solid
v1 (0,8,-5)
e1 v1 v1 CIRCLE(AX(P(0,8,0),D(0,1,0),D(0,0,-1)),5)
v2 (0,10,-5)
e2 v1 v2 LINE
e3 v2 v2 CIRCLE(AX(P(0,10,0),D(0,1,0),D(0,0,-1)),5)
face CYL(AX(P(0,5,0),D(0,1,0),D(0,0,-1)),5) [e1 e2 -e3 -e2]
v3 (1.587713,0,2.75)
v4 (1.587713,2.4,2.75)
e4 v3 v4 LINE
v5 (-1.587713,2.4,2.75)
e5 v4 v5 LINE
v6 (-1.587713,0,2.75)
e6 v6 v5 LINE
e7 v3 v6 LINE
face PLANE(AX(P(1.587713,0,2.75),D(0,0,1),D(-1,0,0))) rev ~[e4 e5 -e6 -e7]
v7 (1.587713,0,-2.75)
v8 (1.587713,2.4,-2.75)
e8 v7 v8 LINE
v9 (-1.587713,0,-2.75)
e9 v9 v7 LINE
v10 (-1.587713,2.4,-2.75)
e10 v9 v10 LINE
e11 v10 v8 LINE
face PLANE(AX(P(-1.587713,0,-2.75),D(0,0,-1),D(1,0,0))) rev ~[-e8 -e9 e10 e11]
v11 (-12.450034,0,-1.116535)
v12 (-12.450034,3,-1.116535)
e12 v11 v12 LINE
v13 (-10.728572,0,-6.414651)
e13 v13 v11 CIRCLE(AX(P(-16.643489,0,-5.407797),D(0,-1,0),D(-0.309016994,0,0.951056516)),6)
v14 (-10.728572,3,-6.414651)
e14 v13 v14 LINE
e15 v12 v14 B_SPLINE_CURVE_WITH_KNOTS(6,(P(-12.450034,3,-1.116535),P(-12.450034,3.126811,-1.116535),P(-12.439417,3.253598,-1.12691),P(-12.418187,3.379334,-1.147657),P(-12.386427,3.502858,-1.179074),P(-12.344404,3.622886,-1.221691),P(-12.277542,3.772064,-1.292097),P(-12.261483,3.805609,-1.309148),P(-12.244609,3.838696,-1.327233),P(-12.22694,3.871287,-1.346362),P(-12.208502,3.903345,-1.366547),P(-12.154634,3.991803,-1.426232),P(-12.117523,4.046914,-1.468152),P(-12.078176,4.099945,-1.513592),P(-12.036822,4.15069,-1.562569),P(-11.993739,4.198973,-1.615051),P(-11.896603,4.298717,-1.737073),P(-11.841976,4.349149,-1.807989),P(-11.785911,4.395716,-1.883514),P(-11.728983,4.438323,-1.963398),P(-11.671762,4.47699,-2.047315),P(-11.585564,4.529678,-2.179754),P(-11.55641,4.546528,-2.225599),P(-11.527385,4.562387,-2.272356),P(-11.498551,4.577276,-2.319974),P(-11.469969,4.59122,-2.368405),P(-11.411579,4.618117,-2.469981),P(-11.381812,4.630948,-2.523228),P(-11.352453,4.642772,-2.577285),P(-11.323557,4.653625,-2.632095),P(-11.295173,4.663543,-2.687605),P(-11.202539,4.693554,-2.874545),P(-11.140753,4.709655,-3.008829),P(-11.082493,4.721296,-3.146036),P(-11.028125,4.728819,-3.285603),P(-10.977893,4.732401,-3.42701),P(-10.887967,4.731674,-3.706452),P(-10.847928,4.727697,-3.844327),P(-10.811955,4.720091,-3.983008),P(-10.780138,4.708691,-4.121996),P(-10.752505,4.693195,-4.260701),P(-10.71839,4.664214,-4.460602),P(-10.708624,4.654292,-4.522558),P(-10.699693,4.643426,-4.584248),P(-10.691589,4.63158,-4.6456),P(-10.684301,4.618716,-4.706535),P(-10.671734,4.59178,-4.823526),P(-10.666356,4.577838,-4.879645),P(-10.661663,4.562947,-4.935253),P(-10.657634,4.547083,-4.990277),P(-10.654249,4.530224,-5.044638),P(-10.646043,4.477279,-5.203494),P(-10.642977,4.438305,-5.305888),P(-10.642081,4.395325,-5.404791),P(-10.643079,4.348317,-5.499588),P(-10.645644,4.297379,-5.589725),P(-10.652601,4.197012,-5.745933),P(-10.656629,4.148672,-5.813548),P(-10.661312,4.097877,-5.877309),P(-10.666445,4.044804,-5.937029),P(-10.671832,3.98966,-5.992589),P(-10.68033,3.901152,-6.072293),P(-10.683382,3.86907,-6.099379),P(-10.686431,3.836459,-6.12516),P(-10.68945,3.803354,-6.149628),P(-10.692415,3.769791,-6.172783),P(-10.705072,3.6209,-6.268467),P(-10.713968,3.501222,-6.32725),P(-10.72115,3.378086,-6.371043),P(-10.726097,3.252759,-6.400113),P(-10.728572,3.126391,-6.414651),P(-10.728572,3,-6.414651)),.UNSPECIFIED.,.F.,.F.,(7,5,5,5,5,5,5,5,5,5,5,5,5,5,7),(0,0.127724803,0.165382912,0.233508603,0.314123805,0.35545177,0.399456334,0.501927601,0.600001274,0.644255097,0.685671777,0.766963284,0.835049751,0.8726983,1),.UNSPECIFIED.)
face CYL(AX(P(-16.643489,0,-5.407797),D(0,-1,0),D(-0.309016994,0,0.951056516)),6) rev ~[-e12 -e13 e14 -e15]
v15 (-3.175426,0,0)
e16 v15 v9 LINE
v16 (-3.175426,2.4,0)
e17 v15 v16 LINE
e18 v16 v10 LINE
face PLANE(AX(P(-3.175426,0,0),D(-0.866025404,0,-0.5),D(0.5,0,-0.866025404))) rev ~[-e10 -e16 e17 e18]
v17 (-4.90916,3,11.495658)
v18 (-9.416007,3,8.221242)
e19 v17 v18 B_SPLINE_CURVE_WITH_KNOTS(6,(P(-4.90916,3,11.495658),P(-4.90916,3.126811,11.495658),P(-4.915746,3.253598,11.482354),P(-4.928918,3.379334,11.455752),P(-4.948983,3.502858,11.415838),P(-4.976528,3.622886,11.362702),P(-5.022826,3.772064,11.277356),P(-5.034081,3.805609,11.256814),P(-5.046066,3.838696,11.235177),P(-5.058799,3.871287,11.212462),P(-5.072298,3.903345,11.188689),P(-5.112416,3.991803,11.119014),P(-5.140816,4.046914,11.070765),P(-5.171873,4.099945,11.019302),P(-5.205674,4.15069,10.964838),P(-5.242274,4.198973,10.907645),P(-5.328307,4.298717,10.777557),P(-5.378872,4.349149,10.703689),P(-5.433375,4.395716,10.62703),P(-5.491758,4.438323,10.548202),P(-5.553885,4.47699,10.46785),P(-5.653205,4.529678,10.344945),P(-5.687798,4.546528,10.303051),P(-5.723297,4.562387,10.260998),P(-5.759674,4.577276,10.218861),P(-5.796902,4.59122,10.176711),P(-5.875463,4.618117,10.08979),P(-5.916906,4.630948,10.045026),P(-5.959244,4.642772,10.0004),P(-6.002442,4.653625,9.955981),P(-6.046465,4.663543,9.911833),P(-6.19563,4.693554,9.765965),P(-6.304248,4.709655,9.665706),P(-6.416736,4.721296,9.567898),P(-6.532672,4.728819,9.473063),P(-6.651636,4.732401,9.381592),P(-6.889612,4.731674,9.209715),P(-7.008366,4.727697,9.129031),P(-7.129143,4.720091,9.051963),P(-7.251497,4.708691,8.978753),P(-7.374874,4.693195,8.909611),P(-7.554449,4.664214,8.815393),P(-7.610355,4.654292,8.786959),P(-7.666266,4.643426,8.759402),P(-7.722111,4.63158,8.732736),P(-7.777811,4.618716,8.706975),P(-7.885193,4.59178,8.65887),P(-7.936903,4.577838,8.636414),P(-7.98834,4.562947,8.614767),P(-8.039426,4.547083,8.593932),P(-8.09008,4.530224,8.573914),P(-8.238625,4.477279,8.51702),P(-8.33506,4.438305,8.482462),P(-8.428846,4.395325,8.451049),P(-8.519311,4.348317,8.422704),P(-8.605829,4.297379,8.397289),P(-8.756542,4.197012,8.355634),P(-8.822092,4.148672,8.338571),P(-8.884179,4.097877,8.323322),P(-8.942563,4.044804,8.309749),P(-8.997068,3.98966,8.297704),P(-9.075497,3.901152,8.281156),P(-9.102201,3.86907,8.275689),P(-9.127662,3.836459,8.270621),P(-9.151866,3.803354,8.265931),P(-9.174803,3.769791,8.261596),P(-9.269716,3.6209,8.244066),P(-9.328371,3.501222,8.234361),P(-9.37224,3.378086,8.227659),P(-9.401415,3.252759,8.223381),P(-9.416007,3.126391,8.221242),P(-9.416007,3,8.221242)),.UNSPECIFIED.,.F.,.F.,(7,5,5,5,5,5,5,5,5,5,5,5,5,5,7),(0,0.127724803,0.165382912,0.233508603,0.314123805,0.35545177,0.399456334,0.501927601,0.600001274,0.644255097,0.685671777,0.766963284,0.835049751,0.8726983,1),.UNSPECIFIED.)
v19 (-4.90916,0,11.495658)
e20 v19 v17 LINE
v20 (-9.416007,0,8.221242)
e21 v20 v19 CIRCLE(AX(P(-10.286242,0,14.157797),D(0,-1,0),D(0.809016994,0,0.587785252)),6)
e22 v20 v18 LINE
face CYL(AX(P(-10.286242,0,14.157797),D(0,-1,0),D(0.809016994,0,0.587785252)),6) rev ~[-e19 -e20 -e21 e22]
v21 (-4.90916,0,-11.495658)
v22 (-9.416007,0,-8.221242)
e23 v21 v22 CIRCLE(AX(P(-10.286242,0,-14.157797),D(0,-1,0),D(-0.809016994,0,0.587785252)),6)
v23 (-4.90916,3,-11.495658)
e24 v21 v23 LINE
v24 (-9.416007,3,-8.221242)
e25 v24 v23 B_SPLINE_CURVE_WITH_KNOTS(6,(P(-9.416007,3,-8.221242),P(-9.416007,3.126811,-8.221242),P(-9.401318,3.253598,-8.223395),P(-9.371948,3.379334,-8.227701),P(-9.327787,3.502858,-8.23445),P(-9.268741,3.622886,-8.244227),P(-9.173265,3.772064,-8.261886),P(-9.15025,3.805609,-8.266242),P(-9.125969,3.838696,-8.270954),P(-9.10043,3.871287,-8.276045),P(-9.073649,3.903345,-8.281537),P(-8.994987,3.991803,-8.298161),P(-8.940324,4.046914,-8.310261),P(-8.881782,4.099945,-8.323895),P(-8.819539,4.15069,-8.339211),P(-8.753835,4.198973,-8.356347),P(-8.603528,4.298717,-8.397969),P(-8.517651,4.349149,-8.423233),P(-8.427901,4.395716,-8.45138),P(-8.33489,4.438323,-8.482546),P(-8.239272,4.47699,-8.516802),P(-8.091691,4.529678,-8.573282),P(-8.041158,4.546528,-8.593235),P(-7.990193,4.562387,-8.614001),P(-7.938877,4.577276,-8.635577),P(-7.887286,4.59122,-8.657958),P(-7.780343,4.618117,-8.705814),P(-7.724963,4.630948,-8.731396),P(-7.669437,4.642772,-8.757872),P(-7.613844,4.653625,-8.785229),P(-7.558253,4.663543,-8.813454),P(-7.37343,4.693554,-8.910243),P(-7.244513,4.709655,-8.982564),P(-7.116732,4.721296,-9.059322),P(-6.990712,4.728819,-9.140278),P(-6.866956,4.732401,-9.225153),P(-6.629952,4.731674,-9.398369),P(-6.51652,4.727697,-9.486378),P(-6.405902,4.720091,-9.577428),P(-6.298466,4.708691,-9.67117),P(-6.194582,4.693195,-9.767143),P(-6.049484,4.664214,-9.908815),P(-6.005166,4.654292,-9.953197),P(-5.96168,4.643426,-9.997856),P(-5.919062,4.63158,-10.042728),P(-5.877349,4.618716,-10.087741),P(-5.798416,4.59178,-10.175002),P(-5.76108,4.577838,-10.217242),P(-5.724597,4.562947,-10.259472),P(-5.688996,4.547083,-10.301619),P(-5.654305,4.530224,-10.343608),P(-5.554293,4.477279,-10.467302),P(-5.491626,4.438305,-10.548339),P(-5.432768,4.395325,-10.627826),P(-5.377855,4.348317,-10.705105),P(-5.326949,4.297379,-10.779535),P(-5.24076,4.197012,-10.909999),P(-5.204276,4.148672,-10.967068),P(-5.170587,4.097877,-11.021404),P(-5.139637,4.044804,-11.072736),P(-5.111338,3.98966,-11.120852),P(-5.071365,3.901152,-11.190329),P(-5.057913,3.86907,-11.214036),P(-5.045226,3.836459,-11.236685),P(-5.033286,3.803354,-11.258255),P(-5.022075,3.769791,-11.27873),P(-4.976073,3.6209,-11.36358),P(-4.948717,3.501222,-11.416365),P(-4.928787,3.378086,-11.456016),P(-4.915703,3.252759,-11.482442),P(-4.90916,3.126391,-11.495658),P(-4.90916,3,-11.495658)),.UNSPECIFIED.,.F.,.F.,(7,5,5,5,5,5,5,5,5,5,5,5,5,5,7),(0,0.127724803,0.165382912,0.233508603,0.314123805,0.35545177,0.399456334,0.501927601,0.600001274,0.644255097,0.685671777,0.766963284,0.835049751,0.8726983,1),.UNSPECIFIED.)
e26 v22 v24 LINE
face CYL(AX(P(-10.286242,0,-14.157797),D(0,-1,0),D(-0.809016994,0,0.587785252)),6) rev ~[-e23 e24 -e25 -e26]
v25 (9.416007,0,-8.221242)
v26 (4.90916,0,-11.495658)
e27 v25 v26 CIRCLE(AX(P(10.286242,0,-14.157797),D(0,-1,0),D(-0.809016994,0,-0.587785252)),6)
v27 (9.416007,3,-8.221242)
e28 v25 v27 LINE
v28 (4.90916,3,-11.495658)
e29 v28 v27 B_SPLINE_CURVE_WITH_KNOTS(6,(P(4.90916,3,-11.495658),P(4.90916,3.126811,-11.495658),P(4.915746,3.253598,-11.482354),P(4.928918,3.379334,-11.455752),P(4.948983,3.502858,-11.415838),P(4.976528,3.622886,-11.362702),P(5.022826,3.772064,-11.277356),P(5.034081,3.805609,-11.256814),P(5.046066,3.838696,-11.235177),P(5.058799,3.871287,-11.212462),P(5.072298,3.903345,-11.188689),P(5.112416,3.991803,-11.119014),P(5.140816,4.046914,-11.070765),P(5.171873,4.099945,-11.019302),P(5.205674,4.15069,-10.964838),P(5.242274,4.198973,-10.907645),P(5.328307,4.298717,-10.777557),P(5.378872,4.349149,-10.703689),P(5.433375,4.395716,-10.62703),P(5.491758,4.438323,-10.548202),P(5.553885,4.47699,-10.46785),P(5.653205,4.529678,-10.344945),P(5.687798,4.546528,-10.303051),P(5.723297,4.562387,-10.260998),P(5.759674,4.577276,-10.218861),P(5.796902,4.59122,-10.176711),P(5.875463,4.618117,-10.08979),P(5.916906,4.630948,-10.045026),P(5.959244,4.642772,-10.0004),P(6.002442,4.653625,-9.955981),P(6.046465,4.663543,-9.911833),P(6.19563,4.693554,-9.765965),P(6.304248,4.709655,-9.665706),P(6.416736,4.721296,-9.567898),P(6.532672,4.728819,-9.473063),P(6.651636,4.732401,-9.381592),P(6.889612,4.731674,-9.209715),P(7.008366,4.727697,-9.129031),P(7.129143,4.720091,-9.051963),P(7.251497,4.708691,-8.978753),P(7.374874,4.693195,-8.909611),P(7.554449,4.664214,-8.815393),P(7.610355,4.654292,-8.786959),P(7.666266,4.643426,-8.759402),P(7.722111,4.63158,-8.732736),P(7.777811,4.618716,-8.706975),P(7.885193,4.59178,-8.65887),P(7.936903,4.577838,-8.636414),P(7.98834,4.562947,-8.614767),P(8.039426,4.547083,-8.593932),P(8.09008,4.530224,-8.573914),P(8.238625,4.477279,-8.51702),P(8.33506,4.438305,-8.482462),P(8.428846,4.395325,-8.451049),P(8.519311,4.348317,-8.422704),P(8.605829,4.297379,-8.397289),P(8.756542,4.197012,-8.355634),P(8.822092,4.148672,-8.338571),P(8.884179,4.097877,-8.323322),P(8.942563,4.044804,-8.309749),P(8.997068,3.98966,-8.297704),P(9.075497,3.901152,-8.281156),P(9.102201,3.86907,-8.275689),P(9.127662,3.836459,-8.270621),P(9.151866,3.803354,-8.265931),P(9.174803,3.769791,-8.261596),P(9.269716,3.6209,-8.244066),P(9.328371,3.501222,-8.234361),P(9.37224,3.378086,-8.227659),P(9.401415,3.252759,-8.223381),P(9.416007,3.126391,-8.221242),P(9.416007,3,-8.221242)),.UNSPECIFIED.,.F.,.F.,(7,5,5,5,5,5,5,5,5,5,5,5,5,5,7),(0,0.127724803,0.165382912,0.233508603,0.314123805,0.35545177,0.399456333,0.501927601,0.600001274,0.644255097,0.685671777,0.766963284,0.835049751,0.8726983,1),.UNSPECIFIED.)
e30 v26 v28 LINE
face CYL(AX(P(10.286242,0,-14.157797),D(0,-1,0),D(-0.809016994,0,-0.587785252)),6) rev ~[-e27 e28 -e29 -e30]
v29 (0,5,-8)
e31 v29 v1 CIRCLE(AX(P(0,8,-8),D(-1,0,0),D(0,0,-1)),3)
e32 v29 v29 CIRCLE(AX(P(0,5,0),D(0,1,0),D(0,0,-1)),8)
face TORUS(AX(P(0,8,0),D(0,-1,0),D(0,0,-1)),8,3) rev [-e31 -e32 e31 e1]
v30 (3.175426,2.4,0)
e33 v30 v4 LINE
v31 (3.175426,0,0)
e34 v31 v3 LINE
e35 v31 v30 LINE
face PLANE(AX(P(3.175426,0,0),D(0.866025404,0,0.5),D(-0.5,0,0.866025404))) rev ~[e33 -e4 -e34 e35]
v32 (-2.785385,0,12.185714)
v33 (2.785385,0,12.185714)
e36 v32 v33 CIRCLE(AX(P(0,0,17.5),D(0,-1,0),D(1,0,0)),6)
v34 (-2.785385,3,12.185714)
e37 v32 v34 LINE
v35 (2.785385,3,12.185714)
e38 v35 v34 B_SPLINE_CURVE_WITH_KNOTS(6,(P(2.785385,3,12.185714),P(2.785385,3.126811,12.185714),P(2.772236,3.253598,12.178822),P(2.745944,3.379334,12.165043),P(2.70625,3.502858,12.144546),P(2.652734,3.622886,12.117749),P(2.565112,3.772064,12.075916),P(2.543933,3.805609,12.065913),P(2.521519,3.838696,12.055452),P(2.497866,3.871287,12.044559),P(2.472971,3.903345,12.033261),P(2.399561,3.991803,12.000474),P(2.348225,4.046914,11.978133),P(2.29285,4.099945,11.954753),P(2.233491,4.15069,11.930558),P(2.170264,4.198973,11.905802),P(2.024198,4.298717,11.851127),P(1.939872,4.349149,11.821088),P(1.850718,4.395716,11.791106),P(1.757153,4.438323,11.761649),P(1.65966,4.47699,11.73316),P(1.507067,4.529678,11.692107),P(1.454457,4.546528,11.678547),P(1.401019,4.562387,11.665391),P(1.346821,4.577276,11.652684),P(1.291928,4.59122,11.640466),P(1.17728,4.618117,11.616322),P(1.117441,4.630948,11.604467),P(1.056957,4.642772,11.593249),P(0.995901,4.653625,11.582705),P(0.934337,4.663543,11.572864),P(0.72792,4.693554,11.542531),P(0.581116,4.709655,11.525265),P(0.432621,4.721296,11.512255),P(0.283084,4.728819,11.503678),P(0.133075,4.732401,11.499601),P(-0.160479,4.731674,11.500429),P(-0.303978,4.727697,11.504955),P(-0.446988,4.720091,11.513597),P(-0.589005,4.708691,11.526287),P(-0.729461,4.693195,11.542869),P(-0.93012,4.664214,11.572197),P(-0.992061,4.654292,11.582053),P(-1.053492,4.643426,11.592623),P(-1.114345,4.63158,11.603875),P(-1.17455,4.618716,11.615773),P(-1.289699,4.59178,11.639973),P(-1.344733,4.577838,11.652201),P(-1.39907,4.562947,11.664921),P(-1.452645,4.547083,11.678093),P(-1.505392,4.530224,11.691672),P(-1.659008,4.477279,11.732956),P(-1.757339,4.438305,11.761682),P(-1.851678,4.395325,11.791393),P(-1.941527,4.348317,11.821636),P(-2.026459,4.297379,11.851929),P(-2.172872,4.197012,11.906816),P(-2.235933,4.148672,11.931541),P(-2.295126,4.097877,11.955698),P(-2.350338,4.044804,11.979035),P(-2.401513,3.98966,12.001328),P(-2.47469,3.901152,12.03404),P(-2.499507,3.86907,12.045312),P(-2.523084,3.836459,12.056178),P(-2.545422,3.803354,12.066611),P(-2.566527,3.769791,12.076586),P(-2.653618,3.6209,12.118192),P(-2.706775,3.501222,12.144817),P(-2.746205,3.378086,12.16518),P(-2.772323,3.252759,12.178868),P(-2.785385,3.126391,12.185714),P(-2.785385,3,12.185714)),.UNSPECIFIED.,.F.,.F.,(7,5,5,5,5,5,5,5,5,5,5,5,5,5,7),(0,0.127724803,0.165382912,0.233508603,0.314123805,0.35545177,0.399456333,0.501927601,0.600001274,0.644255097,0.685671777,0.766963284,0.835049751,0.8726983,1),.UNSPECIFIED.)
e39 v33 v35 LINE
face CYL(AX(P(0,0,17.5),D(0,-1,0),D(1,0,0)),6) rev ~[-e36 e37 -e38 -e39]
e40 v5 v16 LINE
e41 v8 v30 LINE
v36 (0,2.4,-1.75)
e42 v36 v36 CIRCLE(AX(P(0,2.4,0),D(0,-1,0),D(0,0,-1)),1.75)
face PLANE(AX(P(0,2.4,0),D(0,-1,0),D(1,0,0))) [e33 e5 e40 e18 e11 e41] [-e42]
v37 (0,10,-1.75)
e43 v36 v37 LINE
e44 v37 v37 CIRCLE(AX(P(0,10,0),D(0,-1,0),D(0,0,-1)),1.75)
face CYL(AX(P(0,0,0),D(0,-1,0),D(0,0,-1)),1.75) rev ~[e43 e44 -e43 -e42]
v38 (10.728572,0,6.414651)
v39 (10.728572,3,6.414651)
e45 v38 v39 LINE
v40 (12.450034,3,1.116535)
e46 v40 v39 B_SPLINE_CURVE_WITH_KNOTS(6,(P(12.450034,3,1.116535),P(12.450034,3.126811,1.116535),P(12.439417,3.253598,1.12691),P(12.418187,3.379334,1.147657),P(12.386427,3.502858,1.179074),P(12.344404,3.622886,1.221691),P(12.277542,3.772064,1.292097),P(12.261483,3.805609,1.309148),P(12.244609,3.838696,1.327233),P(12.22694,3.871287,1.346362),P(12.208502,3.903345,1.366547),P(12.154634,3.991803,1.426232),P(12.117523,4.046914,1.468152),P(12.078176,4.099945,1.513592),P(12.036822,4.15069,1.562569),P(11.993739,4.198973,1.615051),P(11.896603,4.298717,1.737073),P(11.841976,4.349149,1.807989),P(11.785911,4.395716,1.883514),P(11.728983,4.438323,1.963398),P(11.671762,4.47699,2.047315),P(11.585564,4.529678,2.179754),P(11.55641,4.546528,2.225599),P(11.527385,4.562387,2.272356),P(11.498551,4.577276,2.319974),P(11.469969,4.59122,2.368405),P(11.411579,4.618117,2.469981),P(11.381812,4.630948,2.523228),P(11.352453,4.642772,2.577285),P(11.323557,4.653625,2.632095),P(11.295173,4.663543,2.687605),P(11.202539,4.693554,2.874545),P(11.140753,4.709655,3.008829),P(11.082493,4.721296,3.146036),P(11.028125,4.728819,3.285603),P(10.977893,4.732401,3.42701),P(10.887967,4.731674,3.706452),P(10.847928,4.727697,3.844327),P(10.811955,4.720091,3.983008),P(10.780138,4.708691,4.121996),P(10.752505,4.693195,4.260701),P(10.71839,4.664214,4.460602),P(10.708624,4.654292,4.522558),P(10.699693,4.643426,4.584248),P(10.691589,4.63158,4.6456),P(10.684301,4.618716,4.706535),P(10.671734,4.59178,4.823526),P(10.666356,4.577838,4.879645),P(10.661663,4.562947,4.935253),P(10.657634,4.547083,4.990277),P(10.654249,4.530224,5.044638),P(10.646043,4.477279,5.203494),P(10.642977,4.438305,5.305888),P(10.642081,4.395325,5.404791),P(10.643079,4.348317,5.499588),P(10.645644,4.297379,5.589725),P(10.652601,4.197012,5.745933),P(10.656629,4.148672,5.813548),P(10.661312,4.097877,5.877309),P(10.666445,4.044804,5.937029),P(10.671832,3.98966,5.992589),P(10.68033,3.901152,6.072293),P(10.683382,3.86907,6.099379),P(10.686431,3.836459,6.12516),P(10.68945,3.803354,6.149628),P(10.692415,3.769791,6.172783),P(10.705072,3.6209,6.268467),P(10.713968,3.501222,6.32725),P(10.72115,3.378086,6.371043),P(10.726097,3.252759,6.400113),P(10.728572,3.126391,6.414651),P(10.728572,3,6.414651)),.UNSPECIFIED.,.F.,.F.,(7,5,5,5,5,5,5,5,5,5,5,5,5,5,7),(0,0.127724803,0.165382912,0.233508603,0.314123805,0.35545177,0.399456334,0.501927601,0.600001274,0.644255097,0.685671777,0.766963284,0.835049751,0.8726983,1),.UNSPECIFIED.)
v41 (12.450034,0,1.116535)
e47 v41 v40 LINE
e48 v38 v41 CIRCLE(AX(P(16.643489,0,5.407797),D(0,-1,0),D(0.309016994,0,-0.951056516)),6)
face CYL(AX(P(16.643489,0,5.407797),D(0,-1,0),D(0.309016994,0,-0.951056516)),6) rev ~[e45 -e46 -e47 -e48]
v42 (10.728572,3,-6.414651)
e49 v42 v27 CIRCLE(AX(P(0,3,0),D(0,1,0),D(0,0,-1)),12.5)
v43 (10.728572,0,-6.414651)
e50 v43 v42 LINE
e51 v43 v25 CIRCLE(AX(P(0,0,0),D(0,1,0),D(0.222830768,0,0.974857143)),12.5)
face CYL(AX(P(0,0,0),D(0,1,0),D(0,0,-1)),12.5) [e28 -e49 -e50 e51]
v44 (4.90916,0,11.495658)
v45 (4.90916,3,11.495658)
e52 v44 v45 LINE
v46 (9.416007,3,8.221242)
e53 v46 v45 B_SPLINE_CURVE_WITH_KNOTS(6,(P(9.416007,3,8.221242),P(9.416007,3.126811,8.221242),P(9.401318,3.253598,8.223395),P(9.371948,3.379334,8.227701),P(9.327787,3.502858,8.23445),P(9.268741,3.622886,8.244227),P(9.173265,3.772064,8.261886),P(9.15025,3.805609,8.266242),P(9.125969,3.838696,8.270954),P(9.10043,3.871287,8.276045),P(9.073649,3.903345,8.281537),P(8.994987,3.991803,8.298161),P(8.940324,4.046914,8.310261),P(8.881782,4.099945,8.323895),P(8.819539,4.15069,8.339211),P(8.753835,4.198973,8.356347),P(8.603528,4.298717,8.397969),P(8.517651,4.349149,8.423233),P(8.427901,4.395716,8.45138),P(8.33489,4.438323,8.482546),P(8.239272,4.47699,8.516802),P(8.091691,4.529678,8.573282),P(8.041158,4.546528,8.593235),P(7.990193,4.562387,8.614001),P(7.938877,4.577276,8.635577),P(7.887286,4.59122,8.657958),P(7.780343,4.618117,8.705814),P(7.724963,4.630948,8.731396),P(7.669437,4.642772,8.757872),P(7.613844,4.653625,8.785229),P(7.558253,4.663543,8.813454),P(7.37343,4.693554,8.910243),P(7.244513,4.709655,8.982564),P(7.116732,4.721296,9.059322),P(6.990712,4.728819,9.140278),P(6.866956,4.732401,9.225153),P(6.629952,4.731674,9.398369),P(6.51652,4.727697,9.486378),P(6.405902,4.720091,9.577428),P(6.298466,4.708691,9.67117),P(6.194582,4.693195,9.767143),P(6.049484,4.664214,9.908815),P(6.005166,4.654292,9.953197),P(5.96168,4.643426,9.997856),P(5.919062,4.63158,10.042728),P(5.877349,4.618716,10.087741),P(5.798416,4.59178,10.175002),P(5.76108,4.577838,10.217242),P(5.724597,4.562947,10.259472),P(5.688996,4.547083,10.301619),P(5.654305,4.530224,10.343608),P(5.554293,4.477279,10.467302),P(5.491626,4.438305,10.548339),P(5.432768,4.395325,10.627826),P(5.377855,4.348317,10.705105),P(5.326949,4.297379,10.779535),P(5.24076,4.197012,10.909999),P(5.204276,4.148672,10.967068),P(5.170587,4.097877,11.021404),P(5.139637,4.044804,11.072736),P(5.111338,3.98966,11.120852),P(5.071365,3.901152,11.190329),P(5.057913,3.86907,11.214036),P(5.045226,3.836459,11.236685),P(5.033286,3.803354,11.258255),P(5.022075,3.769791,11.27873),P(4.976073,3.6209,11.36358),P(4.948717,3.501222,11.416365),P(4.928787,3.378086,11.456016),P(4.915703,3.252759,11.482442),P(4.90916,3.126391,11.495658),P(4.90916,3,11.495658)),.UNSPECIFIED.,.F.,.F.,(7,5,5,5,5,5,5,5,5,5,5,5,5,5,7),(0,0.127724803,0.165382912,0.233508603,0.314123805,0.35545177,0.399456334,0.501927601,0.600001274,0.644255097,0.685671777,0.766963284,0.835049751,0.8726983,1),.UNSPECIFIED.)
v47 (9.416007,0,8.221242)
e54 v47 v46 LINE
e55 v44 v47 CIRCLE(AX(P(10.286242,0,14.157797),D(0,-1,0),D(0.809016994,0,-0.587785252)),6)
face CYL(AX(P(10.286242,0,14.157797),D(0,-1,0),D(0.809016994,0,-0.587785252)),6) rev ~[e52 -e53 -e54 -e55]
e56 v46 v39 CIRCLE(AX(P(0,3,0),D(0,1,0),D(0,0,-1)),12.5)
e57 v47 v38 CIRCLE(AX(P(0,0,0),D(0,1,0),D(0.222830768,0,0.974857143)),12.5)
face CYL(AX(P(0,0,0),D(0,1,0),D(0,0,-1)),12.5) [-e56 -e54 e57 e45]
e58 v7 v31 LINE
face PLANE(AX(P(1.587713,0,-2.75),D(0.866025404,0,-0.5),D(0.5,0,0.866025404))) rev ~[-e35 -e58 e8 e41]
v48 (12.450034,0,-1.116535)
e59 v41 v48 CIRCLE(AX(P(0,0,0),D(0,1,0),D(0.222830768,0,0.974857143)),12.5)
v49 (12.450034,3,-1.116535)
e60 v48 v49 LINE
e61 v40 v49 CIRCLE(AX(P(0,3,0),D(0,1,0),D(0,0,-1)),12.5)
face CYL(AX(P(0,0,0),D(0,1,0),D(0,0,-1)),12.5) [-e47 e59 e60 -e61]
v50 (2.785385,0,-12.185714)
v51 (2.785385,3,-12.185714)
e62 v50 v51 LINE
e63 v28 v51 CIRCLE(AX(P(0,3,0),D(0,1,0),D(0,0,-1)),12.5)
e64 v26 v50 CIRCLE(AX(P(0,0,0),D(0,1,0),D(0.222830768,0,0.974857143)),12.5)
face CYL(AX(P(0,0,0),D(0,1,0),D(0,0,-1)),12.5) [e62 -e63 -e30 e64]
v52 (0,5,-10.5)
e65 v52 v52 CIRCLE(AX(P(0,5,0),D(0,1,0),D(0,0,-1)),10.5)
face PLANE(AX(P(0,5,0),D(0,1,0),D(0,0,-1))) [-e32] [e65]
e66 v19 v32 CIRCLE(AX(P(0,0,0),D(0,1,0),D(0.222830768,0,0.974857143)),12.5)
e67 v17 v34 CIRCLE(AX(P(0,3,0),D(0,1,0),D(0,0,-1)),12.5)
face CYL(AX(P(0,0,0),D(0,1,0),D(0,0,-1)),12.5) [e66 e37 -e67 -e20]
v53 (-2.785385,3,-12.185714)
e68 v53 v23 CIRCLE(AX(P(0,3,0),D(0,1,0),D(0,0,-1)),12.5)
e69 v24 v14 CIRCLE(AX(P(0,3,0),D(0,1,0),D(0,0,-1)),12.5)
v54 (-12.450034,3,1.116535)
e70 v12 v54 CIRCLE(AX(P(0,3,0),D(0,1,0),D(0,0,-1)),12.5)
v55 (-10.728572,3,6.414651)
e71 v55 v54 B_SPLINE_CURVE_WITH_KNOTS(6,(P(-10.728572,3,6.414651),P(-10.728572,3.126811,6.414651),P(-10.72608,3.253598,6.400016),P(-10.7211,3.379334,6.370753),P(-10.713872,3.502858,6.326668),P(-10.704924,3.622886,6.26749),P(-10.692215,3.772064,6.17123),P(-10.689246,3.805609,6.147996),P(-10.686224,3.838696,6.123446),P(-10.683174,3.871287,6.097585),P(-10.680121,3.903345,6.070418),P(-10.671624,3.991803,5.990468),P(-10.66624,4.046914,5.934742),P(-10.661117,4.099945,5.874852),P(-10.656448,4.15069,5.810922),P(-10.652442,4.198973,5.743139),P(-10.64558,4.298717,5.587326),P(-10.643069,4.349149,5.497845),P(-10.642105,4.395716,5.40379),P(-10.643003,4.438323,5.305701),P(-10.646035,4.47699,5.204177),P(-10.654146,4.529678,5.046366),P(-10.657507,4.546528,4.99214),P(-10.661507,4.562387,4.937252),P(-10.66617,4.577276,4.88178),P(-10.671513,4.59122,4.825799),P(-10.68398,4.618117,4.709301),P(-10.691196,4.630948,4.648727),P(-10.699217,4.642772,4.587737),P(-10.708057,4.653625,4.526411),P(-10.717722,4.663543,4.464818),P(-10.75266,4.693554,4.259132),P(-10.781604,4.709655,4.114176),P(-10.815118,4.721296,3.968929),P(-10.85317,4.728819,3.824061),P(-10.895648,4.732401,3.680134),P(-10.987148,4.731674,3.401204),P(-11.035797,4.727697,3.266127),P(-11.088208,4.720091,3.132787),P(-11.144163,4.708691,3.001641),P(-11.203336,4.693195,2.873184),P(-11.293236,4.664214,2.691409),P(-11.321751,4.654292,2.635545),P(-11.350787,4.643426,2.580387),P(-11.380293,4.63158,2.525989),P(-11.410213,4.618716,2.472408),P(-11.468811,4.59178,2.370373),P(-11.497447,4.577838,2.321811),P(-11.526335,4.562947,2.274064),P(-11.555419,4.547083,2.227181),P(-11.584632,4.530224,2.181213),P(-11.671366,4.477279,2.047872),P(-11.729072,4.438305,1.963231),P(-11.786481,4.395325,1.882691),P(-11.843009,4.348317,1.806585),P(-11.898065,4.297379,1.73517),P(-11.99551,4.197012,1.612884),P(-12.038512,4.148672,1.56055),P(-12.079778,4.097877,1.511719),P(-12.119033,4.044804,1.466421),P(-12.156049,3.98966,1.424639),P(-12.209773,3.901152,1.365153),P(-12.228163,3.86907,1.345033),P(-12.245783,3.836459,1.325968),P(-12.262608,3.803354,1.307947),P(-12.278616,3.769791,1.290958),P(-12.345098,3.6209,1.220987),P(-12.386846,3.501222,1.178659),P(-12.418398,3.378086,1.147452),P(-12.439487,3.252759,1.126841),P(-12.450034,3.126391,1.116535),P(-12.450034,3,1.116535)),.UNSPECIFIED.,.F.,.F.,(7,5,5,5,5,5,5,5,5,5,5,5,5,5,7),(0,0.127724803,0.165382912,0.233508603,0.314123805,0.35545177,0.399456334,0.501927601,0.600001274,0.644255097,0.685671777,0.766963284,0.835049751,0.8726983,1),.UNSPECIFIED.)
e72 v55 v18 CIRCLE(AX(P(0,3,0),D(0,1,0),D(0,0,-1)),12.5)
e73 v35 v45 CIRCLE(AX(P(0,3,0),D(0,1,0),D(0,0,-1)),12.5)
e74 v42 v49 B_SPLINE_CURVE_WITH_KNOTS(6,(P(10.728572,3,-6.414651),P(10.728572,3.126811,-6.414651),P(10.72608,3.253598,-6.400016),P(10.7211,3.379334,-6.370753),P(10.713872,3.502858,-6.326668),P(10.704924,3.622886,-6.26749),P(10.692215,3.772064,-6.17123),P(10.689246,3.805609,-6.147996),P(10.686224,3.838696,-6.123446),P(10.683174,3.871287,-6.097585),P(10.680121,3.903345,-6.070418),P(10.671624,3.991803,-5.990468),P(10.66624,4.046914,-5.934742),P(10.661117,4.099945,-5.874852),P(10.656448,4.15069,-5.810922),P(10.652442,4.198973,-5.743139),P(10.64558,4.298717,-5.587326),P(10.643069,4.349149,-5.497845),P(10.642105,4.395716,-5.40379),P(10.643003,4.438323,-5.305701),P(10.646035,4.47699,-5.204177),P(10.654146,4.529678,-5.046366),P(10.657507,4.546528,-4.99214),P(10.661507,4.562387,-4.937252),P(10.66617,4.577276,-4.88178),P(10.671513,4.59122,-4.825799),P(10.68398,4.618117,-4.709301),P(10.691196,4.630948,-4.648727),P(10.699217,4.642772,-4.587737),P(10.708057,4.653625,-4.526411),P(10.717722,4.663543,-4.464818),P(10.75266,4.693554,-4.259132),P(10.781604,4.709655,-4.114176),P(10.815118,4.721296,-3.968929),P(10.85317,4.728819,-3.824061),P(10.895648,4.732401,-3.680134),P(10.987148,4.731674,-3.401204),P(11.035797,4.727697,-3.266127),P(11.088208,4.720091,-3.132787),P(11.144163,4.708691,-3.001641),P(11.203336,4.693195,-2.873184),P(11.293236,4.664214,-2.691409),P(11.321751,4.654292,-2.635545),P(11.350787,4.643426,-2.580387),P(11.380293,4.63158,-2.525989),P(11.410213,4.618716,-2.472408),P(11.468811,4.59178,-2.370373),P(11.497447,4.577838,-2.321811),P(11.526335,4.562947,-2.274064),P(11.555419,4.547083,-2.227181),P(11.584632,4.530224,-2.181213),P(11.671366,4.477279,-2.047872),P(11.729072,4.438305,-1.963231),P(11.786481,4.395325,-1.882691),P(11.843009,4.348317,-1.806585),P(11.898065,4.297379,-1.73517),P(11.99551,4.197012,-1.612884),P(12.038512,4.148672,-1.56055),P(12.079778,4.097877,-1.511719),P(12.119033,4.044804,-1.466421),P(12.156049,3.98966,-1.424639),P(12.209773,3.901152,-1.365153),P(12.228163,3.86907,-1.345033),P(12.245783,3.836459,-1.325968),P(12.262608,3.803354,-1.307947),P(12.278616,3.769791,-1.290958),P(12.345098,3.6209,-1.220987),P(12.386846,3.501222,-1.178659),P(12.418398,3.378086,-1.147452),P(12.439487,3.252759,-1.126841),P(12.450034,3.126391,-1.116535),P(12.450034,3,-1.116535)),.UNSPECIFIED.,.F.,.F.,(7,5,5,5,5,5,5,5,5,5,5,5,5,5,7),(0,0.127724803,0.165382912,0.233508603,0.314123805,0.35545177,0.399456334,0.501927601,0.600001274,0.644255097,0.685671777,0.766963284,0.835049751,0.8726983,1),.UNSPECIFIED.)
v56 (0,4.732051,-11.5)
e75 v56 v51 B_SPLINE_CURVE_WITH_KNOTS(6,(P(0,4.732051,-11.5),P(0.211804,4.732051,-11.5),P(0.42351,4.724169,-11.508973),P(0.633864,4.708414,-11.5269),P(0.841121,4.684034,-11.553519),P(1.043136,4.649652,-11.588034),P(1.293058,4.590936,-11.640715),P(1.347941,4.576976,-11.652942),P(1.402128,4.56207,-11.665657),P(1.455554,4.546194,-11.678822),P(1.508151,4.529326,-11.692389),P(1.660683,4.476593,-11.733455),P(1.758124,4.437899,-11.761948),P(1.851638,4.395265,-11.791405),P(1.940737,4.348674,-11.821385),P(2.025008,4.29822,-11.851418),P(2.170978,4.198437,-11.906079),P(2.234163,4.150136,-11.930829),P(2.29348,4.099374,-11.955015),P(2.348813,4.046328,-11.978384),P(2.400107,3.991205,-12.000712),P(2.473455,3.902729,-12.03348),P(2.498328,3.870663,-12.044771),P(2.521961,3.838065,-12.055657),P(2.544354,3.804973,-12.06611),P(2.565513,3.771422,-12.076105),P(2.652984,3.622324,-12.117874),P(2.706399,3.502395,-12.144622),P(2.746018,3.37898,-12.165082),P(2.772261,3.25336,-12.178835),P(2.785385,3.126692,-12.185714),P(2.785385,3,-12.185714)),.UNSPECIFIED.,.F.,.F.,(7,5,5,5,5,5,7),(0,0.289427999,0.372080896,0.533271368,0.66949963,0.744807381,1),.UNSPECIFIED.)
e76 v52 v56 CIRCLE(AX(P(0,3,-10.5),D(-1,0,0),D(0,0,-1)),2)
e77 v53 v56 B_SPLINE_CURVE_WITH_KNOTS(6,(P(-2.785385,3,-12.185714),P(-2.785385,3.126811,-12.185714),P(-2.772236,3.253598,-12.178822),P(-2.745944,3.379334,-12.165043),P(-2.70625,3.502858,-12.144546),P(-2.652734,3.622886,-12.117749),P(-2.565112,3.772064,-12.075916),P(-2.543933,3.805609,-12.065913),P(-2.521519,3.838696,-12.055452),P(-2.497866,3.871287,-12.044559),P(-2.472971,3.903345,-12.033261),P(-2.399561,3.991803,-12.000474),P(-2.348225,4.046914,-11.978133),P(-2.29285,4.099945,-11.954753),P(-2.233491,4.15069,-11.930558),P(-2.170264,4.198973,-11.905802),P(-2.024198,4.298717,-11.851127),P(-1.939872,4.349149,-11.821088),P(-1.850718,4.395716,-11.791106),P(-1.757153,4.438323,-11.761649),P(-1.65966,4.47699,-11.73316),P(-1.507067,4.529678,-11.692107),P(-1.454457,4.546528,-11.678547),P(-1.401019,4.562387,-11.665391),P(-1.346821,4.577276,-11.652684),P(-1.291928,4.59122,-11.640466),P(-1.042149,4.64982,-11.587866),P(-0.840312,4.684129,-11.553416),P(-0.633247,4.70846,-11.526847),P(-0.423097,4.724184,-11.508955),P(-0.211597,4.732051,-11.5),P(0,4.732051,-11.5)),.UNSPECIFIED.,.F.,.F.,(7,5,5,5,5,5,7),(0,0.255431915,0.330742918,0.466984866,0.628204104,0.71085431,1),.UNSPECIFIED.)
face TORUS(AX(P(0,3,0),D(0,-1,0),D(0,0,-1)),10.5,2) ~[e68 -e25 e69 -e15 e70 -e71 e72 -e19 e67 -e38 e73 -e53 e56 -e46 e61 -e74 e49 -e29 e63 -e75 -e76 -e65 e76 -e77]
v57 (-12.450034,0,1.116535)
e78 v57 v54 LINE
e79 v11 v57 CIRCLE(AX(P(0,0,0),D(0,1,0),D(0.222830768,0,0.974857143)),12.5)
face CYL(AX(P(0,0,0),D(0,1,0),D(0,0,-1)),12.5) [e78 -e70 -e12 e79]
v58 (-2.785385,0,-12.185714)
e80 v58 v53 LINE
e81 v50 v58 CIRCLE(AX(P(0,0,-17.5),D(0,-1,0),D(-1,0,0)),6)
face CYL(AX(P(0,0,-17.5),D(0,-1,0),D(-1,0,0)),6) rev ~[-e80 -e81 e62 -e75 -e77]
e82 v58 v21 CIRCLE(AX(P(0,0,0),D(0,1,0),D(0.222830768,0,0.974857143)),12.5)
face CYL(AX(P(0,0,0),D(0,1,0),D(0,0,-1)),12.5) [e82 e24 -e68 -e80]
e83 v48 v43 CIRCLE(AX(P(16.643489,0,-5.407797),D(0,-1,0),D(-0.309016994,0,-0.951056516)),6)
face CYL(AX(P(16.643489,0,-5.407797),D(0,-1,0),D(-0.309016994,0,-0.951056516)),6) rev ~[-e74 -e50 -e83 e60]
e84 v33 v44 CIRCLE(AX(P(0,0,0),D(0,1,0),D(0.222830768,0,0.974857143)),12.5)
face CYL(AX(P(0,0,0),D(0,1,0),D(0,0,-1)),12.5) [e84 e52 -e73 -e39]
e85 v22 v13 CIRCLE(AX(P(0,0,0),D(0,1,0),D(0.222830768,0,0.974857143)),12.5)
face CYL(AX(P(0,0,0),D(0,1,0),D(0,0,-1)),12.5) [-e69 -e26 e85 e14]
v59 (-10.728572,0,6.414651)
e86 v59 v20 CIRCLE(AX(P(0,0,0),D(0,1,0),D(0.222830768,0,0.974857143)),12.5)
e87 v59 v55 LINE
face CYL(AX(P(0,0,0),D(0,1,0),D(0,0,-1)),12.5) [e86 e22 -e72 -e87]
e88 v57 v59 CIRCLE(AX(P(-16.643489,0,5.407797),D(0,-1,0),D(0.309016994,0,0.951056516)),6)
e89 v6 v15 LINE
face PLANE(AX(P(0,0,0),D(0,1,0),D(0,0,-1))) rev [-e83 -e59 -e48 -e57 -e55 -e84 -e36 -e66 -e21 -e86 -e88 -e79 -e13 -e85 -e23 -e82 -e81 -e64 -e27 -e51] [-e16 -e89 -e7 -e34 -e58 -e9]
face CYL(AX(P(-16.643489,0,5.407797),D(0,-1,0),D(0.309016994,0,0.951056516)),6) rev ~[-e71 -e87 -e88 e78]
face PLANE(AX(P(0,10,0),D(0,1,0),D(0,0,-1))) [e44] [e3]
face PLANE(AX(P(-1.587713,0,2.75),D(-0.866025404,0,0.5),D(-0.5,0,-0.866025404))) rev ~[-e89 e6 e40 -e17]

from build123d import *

# Parameters (mm, degrees)
FILETE1_R             = 3
FILETE2_R             = 2
ESBO_O2_R             = 6
CORTE_EXTRUS_O1_DEPTH = 5
PADR_OCIRCULAR1_COUNT = 10
ESBO_O3_R             = 1.75
CORTE_EXTRUS_O2_DEPTH = 10
CORTE_EXTRUS_O3_DEPTH = 2.4


with BuildPart() as part:
    # Esboço1 → Revolução1 (revolve)
    with BuildSketch(Plane.XY, mode=Mode.PRIVATE) as revolu_o1_sk:
        Polygon((0, 0), (12.5, 0), (12.5, 5), (5, 5), (5, 10), (0, 10), align=None)
    revolve(revolu_o1_sk.sketch.rotate(Axis((0, 0, 0), (0, 1, 0)), 90), axis=Axis((0, 0, 0), (0, 1, 0)))

    # Filete1
    filete1_edges = [part.edges().sort_by_distance(p)[0] for p in [
        (0, 5, 5),
    ]]
    fillet(filete1_edges, radius=FILETE1_R)

    # Filete2
    filete2_edges = [part.edges().sort_by_distance(p)[0] for p in [
        (0, 5, 12.5),
    ]]
    fillet(filete2_edges, radius=FILETE2_R)

    # Esboço2 → Corte-extrusão1 (cut)
    with BuildSketch(Plane.XZ):
        with Locations((0, 17.5)):
            Circle(ESBO_O2_R)
    corte_extrus_o1 = extrude(amount=-CORTE_EXTRUS_O1_DEPTH, mode=Mode.SUBTRACT)

    # PadrãoCircular1: Corte-extrusão1 ×10 about axis
    padr_ocircular1_axis = Axis((0, 0, 0), (0, 1, 0))
    for i in range(1, PADR_OCIRCULAR1_COUNT):
        add(corte_extrus_o1.rotate(padr_ocircular1_axis, i * 360 / PADR_OCIRCULAR1_COUNT), mode=Mode.SUBTRACT)

    # Esboço3 → Corte-extrusão2 (cut)
    with BuildSketch(Plane.XZ):
        with Locations(Location((0, 0, 0), (0, 0, 270))):
            Circle(ESBO_O3_R)
    extrude(amount=-CORTE_EXTRUS_O2_DEPTH, mode=Mode.SUBTRACT)

    # Esboço4 → Corte-extrusão3 (cut)
    with BuildSketch(Plane.XZ):
        Polygon((3.175426481, 0), (1.58771324, 2.75), (-1.58771324, 2.75), (-3.175426481, 0), (-1.58771324, -2.75), (1.58771324, -2.75), align=None)
    extrude(amount=-CORTE_EXTRUS_O3_DEPTH, mode=Mode.SUBTRACT)


solid = part.part
